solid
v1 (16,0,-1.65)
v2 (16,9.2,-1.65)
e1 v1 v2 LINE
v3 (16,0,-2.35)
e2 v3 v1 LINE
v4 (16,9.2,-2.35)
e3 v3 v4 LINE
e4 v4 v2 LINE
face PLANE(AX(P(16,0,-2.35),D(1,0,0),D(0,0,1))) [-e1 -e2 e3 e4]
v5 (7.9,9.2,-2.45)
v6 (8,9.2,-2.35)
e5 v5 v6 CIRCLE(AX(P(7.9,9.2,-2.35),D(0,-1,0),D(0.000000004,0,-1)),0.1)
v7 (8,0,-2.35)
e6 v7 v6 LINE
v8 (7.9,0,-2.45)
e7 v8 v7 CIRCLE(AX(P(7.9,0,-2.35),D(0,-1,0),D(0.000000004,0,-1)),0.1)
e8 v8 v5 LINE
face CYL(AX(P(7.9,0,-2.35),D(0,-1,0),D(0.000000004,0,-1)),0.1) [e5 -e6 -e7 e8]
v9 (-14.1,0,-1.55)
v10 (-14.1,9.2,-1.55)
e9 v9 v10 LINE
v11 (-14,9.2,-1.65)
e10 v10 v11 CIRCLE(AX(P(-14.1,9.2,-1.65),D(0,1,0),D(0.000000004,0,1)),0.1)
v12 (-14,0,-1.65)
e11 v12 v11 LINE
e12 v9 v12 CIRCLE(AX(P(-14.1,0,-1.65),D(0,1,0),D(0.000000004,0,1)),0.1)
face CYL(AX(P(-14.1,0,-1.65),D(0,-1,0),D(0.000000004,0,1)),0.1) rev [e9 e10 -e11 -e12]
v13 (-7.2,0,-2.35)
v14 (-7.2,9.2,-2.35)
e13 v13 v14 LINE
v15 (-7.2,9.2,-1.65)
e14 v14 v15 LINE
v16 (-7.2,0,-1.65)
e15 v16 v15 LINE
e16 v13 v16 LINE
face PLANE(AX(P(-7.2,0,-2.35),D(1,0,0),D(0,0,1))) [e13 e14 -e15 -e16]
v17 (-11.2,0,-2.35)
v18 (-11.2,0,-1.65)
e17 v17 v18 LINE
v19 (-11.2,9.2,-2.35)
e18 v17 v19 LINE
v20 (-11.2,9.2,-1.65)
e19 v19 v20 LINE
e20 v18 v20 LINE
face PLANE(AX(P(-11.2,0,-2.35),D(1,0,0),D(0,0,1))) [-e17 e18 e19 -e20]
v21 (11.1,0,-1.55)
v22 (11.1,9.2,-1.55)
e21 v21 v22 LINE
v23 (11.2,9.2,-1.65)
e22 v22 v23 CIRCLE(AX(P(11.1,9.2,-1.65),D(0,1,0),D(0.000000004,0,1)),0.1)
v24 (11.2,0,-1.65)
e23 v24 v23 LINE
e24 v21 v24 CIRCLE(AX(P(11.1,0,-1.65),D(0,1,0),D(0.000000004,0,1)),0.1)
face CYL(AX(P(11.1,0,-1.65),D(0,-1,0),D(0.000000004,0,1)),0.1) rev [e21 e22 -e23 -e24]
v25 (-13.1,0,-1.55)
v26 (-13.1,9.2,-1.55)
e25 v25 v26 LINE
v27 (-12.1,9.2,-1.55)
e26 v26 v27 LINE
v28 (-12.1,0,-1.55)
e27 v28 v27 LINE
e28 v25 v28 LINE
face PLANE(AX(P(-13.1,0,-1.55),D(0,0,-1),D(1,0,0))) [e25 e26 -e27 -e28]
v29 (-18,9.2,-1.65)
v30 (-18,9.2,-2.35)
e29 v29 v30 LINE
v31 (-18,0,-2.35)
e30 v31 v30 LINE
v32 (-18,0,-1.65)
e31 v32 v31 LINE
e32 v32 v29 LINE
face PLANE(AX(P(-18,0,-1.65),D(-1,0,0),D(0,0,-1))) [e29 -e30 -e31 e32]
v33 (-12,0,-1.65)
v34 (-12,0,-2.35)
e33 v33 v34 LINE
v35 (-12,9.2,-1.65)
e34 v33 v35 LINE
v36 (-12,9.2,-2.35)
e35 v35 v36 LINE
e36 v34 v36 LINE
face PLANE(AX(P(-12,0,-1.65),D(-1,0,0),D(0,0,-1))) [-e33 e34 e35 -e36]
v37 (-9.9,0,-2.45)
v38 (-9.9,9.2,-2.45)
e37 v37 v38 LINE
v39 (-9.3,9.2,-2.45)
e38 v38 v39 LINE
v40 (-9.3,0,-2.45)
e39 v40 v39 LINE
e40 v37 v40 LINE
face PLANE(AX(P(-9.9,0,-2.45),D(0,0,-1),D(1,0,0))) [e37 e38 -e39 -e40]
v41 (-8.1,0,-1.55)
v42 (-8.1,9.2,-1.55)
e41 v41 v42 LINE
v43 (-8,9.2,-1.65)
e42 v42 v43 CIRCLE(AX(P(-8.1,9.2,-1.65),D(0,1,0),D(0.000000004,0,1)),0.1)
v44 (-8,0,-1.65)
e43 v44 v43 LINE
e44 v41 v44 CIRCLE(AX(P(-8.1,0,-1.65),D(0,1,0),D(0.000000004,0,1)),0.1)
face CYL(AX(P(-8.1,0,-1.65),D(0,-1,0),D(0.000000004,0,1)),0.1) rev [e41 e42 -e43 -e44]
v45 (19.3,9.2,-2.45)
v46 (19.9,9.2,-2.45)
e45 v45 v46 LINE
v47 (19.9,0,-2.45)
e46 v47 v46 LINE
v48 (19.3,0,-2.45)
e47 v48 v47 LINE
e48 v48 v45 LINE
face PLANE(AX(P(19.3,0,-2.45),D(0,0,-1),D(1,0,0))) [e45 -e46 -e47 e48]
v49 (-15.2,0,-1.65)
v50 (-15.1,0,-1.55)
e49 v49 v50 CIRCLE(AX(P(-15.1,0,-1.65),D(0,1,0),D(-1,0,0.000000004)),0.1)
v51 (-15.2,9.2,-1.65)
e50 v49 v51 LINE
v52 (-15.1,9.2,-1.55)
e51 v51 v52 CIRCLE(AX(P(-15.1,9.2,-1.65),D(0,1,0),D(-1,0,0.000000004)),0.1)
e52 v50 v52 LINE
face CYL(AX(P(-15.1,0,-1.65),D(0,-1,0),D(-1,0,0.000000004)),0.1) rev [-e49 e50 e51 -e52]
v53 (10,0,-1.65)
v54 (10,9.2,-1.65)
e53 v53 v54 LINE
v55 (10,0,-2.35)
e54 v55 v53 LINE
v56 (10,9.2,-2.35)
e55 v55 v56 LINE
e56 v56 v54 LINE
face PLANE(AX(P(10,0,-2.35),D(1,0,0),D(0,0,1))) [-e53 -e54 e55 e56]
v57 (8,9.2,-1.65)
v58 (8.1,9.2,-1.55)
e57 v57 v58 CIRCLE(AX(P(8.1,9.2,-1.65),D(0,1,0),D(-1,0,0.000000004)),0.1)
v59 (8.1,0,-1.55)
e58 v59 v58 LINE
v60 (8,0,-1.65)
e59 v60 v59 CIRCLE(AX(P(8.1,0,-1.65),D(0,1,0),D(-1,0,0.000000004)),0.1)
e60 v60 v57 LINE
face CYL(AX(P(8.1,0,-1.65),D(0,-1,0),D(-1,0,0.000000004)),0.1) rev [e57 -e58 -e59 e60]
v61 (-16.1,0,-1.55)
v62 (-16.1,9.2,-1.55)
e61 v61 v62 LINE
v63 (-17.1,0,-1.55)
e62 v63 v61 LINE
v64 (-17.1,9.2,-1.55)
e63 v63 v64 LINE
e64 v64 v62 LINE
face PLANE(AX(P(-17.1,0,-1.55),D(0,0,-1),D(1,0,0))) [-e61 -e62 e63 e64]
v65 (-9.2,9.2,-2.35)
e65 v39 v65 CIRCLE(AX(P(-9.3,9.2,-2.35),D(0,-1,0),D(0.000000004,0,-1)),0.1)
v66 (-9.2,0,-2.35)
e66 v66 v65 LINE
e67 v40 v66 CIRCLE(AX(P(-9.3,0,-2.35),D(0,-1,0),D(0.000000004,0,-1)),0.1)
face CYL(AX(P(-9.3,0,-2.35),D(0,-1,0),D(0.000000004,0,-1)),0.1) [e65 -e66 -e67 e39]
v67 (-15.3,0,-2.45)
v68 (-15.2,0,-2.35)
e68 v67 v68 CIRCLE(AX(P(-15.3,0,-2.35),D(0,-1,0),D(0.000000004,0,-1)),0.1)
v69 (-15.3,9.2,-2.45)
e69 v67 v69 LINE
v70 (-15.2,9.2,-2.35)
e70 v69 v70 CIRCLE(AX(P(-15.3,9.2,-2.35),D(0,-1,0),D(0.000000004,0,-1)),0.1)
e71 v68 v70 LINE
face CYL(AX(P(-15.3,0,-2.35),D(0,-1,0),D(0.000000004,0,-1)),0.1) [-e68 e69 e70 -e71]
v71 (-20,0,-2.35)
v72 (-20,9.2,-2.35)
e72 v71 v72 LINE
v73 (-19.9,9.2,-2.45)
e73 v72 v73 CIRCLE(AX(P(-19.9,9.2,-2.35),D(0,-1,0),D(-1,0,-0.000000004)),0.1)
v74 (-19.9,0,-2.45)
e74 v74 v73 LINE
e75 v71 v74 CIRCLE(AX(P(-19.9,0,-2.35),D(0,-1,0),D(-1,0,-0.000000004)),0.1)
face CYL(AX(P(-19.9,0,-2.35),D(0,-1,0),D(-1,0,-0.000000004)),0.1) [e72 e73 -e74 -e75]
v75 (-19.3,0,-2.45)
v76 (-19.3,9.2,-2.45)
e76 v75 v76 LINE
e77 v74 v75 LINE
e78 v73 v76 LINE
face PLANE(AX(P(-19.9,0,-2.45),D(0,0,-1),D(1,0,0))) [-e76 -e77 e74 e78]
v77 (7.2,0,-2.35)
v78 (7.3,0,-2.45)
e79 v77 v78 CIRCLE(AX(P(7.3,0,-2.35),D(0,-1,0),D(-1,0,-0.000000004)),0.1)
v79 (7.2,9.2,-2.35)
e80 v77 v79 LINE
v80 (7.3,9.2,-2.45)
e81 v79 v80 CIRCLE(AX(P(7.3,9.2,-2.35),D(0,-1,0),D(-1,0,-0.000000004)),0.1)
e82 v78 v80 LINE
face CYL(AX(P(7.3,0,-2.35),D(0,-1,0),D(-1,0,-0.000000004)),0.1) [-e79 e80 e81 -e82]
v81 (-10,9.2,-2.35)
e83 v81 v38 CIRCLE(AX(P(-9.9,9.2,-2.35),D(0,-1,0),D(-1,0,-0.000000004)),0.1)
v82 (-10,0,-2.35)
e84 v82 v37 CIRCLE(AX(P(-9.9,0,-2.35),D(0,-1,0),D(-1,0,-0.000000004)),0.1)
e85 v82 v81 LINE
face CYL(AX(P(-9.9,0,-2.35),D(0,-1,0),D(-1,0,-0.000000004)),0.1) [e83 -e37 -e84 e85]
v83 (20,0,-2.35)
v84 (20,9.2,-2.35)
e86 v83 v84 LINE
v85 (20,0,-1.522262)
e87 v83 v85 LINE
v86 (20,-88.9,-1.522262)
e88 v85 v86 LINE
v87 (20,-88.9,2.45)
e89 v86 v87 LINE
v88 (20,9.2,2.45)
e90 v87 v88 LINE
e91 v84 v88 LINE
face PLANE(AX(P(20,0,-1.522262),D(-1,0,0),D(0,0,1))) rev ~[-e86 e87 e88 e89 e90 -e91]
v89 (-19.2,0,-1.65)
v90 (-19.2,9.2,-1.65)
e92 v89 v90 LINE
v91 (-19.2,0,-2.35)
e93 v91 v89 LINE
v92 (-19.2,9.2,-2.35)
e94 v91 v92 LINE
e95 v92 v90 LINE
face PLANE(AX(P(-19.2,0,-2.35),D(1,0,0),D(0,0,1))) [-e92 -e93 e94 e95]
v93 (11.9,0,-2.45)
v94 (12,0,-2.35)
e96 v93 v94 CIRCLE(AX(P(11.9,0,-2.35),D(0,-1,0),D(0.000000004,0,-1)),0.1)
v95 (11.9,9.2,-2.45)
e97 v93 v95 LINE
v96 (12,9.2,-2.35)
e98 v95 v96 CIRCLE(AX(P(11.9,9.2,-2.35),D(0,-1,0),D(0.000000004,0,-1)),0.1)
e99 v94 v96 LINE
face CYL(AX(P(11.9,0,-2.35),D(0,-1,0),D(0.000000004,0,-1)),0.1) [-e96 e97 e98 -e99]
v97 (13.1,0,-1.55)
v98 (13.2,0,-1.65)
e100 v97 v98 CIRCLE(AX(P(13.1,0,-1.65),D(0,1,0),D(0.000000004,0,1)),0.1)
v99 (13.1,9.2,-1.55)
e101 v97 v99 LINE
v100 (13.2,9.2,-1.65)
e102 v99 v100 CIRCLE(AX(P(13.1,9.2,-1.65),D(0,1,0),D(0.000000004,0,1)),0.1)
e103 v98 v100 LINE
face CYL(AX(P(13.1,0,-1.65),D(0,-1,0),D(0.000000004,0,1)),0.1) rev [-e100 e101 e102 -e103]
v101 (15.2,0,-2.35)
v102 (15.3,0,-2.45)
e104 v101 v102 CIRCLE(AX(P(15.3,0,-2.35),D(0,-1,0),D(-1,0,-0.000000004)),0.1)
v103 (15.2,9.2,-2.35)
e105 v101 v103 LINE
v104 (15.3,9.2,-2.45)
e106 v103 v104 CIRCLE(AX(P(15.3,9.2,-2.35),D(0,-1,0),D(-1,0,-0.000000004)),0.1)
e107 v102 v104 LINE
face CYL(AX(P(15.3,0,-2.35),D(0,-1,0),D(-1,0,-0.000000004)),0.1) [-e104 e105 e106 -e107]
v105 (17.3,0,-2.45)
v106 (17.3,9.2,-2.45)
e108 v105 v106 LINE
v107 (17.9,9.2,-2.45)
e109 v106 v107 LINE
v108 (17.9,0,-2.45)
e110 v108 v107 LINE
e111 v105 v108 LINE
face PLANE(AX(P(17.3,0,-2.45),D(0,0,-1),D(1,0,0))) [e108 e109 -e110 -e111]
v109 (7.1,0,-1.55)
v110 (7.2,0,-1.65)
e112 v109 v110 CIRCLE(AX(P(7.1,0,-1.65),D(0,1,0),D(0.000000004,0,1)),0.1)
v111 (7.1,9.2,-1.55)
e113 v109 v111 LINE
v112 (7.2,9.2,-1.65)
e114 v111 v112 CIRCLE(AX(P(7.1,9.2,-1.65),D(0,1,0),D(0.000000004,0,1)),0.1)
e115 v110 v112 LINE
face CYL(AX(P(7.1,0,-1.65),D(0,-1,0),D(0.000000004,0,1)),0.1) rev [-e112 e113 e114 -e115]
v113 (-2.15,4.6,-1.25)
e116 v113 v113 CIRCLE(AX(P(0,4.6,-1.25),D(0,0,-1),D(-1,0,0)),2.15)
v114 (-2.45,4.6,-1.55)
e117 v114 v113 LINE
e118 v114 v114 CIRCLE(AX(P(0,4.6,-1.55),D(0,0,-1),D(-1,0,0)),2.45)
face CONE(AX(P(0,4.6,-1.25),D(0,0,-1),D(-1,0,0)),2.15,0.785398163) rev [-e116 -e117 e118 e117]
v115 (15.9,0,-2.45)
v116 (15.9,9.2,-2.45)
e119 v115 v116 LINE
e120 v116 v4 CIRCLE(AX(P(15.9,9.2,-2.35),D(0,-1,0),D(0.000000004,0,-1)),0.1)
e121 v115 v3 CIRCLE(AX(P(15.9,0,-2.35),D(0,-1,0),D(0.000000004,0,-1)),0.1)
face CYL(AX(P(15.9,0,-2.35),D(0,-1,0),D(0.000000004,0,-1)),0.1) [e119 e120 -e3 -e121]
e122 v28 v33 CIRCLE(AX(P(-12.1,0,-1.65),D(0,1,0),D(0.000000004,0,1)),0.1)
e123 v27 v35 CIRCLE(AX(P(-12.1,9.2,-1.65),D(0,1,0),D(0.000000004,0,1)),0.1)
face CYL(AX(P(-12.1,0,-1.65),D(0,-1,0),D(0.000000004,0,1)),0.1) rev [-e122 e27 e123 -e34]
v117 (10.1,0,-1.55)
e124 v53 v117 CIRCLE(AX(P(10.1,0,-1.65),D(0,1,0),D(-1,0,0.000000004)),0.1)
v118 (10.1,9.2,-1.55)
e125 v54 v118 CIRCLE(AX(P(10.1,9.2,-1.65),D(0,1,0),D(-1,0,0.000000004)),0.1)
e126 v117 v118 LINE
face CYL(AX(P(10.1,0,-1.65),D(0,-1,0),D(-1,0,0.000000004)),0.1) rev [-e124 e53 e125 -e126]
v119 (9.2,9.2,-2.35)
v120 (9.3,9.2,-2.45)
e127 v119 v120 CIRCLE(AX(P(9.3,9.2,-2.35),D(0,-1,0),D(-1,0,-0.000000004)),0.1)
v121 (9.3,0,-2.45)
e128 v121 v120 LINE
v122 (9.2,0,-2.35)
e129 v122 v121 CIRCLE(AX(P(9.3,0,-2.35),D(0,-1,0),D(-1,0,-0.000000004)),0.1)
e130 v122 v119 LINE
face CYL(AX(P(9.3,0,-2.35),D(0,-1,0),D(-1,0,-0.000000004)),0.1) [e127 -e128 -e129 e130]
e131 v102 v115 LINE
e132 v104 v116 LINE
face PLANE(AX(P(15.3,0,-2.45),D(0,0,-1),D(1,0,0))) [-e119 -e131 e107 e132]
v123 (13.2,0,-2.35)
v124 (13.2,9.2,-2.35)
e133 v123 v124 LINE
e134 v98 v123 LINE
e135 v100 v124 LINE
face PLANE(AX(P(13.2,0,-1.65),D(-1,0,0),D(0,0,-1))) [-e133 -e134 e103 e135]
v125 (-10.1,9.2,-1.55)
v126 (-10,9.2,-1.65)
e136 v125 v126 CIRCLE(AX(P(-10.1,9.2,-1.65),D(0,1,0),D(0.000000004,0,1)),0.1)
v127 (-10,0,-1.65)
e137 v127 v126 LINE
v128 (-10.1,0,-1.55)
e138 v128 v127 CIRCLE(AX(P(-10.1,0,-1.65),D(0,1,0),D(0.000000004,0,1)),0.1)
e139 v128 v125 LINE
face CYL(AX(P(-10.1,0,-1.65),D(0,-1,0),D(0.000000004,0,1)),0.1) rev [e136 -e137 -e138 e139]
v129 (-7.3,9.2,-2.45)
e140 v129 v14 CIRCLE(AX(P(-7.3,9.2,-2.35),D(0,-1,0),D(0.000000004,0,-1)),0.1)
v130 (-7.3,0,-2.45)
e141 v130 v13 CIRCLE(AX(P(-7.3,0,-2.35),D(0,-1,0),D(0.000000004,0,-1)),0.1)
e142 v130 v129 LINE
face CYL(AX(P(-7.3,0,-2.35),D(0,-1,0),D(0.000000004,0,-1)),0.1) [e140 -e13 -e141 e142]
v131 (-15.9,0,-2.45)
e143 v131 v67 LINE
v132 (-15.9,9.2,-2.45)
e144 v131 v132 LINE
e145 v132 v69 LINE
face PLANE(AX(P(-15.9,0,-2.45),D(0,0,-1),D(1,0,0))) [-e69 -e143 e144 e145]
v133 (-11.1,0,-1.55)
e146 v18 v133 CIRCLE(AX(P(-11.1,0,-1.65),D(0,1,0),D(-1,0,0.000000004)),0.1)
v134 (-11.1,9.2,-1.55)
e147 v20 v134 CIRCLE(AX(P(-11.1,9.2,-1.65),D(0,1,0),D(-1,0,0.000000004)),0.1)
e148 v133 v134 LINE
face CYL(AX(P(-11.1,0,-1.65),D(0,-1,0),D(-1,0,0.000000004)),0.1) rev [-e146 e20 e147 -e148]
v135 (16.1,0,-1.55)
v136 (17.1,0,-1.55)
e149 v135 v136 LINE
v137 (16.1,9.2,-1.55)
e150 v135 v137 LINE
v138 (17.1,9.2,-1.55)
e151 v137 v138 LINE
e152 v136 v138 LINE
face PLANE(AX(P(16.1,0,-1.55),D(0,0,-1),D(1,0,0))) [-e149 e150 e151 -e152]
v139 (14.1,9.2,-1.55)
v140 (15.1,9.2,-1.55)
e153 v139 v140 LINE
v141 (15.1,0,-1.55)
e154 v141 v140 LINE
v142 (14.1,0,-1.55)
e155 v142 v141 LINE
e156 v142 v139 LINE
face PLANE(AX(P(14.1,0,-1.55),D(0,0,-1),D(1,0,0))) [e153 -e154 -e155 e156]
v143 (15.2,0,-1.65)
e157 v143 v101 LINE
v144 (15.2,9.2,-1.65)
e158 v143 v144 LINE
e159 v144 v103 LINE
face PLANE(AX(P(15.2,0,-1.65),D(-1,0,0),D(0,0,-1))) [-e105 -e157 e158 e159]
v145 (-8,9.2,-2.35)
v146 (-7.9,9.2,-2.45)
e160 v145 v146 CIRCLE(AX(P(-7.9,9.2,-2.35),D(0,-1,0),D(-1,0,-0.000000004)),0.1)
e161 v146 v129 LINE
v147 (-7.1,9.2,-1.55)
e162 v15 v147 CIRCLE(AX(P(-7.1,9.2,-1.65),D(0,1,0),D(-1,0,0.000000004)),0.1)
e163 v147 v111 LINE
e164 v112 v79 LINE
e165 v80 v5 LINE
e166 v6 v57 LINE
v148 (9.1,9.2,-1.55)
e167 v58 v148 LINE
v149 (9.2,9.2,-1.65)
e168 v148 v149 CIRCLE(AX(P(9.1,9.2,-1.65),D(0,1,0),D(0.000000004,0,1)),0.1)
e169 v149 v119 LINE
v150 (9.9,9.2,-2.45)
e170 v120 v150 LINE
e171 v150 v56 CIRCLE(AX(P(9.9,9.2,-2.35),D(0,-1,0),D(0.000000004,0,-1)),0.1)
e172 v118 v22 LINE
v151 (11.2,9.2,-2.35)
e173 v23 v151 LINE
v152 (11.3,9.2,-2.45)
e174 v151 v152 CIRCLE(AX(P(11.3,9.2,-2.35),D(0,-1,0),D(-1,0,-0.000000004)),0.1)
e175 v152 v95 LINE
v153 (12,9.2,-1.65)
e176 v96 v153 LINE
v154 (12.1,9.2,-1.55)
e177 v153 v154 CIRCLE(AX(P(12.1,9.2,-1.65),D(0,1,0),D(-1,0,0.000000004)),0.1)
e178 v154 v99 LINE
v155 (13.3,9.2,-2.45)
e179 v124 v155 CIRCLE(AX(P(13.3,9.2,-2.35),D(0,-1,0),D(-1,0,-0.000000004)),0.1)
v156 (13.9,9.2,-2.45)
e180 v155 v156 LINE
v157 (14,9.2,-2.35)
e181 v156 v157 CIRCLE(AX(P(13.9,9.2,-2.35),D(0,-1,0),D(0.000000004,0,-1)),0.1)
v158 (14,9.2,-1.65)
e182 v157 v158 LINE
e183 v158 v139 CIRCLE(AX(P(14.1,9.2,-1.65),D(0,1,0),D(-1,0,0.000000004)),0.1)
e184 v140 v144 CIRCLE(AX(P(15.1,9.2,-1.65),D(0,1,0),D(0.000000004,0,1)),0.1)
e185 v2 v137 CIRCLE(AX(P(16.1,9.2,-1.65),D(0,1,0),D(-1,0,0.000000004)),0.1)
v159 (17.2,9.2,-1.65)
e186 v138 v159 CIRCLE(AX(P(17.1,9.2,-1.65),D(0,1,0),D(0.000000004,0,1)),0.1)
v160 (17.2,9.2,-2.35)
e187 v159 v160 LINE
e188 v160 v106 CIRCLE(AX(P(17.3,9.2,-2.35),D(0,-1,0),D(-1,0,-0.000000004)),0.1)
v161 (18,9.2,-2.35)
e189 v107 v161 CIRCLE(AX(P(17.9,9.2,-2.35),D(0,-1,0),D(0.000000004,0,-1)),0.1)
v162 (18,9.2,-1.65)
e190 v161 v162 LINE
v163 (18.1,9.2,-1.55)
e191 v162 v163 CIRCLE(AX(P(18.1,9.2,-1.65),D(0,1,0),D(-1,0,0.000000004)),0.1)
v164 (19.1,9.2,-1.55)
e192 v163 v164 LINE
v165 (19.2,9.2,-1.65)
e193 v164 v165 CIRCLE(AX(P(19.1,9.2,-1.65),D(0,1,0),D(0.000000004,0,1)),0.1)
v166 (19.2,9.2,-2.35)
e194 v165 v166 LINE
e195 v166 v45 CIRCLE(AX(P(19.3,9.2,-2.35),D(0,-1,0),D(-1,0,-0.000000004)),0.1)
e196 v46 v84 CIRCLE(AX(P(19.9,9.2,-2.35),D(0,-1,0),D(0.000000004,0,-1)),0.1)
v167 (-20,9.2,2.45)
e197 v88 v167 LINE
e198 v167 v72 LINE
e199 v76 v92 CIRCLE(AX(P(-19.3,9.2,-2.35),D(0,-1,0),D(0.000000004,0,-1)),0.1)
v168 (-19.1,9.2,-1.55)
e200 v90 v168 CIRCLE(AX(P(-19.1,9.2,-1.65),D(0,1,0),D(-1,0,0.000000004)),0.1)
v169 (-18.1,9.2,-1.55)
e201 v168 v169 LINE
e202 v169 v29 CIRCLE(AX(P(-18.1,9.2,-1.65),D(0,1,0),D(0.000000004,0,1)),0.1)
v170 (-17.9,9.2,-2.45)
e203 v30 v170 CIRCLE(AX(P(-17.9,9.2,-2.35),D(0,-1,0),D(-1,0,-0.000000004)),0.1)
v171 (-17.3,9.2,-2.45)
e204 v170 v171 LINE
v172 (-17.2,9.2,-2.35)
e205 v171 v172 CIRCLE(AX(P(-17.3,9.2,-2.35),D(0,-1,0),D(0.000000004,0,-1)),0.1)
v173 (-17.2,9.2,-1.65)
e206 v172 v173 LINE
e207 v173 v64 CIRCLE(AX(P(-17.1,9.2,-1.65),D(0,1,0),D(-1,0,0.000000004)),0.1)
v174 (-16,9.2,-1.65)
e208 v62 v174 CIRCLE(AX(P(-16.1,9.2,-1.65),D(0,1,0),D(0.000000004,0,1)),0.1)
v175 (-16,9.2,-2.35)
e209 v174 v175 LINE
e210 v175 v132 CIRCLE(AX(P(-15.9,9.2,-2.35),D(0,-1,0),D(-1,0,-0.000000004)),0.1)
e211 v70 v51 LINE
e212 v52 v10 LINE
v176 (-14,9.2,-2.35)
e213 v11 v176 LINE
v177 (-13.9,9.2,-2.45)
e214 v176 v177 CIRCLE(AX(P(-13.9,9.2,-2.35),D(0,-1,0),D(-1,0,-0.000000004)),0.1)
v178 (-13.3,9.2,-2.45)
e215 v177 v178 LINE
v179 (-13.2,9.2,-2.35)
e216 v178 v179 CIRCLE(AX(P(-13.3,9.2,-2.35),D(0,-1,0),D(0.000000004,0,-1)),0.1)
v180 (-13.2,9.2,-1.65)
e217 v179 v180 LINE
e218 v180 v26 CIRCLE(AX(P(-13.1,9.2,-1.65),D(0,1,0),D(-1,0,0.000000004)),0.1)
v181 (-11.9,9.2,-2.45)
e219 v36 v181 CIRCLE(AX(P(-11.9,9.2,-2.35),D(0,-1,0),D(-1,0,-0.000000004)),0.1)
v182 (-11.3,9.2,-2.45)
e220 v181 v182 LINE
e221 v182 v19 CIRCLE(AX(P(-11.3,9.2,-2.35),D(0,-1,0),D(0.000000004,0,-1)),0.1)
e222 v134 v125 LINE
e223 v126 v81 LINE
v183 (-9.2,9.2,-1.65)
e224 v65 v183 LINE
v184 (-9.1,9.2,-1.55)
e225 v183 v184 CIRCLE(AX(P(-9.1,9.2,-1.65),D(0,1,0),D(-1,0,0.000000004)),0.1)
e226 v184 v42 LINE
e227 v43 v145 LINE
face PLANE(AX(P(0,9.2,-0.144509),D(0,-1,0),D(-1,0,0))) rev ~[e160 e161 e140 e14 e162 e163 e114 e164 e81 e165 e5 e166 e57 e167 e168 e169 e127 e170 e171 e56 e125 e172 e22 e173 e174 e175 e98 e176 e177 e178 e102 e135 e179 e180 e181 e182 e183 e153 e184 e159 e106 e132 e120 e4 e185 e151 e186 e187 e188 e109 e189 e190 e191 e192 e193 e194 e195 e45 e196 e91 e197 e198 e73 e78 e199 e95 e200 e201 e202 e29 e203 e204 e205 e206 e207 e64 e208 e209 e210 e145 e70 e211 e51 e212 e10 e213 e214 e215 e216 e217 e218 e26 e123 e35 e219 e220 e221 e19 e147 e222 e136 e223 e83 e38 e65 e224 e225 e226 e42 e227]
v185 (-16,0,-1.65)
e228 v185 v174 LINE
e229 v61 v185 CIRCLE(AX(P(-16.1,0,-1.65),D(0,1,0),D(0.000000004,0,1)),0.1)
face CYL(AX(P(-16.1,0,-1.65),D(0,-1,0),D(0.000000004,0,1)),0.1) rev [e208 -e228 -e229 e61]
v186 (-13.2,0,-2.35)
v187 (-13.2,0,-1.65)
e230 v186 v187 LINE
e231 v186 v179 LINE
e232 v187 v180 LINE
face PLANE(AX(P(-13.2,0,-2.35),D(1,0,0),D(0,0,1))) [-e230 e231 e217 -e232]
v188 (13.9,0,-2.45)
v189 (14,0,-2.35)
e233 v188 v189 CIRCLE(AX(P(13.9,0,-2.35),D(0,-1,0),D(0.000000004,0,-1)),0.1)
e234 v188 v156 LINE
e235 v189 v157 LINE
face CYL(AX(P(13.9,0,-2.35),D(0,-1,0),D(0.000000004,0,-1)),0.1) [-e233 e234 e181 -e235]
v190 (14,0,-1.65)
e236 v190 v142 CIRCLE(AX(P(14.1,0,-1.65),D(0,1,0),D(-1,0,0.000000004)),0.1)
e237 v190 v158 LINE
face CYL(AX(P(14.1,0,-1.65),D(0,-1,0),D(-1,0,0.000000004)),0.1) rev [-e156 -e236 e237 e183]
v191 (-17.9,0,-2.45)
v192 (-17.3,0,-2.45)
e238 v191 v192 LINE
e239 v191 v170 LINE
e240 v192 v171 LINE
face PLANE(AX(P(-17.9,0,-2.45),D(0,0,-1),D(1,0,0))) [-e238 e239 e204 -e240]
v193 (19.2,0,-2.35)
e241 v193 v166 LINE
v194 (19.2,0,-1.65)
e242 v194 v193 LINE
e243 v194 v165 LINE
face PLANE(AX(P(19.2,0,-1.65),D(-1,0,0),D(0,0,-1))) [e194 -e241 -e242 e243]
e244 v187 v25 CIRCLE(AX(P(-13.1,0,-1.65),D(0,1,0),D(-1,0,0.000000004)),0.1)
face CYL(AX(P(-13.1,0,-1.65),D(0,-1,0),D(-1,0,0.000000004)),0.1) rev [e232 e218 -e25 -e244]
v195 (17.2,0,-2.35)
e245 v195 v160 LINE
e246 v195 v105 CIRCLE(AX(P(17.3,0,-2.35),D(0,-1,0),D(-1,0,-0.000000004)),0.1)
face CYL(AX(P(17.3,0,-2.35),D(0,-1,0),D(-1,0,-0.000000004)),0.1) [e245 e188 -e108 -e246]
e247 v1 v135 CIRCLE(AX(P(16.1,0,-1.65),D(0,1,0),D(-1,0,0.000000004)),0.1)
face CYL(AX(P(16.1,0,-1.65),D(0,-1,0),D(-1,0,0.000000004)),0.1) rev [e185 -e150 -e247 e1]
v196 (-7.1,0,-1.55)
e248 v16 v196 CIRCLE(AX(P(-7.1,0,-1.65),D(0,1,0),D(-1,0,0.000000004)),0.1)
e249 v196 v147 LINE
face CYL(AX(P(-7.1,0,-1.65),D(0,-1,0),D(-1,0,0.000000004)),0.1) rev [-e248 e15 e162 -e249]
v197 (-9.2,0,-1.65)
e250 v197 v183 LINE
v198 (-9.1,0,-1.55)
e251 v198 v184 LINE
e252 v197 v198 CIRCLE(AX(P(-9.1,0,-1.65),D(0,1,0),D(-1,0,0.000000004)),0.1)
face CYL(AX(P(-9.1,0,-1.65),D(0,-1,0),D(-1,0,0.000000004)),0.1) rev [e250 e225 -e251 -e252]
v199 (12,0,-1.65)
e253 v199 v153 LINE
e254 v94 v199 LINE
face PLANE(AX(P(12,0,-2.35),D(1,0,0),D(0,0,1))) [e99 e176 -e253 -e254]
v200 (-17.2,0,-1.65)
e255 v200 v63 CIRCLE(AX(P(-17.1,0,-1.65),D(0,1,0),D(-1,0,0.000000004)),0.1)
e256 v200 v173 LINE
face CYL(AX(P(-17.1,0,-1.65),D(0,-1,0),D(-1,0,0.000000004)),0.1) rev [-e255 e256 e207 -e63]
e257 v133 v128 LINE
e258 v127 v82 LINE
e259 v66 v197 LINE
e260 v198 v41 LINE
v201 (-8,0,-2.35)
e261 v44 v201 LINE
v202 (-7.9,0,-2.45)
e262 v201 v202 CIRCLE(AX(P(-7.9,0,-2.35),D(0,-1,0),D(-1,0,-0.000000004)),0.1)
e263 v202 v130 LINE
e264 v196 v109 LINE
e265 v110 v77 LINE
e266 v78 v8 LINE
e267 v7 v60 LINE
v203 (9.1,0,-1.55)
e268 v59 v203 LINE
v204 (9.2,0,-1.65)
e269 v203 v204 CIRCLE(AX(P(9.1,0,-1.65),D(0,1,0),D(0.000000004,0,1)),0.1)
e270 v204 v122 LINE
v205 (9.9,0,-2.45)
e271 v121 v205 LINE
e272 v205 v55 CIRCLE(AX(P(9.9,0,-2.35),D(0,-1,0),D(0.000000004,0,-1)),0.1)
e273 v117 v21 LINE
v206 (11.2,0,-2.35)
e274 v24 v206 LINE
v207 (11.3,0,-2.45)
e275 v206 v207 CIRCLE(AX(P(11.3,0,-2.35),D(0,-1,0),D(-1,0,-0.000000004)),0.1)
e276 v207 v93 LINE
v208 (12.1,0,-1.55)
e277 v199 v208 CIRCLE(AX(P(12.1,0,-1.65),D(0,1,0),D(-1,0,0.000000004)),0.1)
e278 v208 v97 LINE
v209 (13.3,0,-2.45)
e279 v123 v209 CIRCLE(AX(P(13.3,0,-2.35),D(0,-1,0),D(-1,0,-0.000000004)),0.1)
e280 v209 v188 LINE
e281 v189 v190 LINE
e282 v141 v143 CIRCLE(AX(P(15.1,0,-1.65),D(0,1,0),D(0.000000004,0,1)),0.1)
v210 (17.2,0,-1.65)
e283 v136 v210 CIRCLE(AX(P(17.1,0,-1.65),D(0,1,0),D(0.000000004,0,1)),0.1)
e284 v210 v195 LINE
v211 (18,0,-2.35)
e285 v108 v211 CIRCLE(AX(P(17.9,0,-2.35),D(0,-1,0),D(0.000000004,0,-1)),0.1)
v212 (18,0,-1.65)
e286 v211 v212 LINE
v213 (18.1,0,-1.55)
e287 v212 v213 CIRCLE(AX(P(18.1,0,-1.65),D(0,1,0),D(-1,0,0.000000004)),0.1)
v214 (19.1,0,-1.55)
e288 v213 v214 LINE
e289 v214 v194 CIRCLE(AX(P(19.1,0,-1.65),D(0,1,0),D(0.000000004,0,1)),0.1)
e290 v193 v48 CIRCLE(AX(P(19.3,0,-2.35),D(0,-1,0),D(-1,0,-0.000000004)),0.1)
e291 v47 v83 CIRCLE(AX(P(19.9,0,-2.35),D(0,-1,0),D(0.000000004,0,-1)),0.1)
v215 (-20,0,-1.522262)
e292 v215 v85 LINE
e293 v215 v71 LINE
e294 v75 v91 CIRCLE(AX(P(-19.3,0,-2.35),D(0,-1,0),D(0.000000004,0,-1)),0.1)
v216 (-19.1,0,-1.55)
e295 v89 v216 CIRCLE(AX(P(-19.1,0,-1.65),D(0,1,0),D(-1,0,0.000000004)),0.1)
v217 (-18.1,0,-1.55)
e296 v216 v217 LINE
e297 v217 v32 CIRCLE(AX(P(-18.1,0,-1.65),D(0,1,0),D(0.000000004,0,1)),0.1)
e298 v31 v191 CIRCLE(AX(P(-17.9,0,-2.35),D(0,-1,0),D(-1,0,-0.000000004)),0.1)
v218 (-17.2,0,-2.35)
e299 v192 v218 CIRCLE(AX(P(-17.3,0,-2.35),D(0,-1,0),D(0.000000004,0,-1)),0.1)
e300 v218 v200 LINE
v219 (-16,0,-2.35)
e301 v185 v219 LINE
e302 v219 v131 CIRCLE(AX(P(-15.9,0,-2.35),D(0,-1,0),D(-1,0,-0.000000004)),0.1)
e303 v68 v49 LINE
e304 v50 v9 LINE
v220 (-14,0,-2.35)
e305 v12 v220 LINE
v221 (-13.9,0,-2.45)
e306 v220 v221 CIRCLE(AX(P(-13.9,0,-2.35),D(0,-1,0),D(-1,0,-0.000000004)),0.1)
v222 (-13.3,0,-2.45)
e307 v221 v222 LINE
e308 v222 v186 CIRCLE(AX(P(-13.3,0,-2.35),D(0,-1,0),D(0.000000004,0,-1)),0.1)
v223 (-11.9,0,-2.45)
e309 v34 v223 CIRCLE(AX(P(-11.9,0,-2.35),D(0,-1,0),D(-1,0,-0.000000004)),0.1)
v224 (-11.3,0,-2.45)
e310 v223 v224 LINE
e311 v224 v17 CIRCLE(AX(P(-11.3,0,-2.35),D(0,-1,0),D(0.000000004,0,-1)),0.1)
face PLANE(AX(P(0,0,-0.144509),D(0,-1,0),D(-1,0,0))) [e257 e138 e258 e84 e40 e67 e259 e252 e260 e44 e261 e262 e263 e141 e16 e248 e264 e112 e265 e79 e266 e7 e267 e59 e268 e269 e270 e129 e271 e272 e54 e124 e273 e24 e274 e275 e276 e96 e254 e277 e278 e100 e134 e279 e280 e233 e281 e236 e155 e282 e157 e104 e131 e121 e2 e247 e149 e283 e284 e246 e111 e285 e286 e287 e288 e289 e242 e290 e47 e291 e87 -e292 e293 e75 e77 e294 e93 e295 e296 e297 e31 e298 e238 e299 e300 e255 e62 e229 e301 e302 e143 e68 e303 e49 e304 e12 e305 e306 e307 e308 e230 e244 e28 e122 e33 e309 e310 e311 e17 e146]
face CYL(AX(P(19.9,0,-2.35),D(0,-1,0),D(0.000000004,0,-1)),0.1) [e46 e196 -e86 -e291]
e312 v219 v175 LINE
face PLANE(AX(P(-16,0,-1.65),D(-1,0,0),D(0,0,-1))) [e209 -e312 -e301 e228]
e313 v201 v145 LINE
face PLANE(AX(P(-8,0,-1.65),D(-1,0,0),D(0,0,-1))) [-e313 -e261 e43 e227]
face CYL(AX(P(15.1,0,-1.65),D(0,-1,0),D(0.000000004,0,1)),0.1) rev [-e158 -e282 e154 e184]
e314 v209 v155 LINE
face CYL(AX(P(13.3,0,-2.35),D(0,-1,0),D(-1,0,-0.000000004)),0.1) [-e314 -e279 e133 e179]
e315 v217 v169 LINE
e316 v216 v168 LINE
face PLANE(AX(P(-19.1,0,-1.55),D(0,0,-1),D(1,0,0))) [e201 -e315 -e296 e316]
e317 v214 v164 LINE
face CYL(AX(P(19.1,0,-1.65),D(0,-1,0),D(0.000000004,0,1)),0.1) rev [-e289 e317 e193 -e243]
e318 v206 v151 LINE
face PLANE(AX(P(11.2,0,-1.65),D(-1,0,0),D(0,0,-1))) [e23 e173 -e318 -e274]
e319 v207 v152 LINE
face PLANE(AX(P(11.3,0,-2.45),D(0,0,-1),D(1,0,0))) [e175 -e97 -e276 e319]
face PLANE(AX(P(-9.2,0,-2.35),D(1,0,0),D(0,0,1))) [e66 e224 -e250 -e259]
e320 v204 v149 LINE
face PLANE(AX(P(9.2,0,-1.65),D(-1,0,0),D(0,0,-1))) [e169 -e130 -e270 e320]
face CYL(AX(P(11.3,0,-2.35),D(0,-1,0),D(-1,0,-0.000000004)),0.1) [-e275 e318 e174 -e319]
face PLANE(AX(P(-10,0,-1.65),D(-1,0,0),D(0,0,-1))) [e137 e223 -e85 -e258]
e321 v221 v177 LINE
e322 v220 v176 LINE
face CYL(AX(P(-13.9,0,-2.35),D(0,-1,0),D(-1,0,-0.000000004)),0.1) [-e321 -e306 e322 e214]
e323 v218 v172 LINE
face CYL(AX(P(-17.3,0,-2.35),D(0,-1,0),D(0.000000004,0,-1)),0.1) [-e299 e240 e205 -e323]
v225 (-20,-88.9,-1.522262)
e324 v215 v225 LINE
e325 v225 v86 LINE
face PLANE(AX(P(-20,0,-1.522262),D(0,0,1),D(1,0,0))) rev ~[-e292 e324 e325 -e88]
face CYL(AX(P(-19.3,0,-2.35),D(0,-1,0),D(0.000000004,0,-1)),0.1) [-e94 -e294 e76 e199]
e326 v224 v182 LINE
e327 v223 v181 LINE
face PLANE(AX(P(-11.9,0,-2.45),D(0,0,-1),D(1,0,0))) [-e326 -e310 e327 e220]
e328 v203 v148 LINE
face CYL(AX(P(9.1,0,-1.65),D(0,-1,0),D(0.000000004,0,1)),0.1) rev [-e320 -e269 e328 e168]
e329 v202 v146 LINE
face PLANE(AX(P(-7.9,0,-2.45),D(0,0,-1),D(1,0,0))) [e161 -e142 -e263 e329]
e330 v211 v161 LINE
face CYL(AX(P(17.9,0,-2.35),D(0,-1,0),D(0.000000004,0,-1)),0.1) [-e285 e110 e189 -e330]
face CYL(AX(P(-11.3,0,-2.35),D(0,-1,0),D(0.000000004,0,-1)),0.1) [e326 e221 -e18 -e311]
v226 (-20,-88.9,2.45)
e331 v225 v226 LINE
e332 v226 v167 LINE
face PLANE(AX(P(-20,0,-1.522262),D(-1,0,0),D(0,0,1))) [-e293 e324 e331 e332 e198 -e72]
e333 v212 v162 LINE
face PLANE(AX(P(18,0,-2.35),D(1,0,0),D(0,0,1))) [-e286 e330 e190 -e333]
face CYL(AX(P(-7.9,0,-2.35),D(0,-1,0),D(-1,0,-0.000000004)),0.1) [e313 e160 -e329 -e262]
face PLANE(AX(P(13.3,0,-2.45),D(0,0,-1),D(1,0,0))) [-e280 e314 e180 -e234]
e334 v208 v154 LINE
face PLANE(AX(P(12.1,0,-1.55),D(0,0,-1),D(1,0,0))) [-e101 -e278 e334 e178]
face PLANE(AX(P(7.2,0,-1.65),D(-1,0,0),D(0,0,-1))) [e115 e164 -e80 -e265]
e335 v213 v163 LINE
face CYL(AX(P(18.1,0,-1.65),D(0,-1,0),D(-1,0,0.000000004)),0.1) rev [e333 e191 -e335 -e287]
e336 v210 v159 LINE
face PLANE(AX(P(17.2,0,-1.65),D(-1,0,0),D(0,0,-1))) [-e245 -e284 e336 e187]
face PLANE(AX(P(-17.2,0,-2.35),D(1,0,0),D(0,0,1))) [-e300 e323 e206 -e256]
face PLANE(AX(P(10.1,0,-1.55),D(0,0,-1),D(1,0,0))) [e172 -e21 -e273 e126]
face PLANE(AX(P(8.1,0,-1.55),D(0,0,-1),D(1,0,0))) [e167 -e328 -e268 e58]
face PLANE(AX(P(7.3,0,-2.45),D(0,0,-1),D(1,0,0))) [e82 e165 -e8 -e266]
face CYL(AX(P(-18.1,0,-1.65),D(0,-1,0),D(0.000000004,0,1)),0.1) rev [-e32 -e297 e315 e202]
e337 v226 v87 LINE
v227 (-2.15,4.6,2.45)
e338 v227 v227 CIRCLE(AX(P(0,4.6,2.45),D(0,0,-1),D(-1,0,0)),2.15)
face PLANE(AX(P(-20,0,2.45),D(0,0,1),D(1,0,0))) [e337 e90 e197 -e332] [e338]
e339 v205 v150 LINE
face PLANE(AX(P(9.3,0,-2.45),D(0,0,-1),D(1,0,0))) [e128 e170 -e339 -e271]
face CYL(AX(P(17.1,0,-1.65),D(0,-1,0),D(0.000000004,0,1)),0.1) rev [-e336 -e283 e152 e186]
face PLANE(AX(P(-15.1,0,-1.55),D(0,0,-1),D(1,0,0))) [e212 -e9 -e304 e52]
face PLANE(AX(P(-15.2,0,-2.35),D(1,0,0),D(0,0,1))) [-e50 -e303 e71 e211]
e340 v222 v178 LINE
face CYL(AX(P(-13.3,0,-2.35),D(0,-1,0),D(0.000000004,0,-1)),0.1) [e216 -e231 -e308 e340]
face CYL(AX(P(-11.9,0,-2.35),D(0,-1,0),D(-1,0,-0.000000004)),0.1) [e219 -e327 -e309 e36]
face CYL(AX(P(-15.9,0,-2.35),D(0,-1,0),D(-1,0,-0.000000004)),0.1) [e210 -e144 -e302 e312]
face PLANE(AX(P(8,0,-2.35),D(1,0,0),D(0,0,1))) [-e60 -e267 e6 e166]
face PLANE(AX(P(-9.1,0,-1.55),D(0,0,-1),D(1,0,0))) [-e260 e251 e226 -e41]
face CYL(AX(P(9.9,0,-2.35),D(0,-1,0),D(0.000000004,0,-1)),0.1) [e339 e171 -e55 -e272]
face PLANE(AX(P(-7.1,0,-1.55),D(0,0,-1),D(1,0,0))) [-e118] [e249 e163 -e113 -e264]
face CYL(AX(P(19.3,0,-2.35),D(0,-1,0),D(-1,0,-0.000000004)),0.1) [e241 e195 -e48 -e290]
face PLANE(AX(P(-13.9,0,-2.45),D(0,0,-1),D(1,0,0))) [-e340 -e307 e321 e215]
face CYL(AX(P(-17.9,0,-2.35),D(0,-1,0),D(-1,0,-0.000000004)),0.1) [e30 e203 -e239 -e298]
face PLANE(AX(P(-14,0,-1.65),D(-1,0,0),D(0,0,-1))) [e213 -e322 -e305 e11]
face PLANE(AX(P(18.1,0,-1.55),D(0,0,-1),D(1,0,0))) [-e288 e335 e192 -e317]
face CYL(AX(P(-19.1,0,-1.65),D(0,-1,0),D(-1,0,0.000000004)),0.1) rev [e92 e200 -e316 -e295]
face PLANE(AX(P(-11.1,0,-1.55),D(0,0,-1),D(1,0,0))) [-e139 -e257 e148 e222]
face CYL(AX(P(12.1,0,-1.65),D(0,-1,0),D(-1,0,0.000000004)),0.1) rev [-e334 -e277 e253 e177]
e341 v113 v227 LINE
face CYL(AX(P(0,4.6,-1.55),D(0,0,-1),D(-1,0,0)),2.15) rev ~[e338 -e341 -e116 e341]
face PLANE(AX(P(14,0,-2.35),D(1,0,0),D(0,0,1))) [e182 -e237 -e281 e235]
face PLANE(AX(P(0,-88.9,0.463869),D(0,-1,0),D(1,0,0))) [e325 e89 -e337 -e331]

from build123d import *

# Parameters (mm, degrees)
RESSALTO_EXTRUS_O2_DEPTH = 9.2
ESBO_O5_R                = 2.15
CORTE_EXTRUS_O2_DEPTH    = 9.2
CHANFRO2_SIZE            = 0.3
SKETCH1_W                = 40
SKETCH1_H                = 3.972261678
BOSS_EXTRUDE1_DEPTH      = 88.9


with BuildPart() as part:
    # Esboço4 → Ressalto-extrusão2 (new body)
    with BuildSketch(Plane(origin=(0, 0, 0), x_dir=(1, 0, 0), z_dir=(0, 1, 0))):
        with BuildLine():
            Line((-19.2, 2.35), (-19.2, 1.65))
            ThreePointArc((-19.2, 1.65), (-19.170710678, 1.579289322), (-19.1, 1.55))
            Line((-19.1, 1.55), (-18.1, 1.55))
            ThreePointArc((-18.1, 1.55), (-18.029289322, 1.579289322), (-18, 1.65))
            Line((-18, 1.65), (-18, 2.35))
            ThreePointArc((-18, 2.35), (-17.970710678, 2.420710678), (-17.9, 2.45))
            Line((-17.9, 2.45), (-17.3, 2.45))
            ThreePointArc((-17.3, 2.45), (-17.229289322, 2.420710678), (-17.2, 2.35))
            Line((-17.2, 2.35), (-17.2, 1.65))
            ThreePointArc((-17.2, 1.65), (-17.170710678, 1.579289322), (-17.1, 1.55))
            Line((-17.1, 1.55), (-16.1, 1.55))
            ThreePointArc((-16.1, 1.55), (-16.029289322, 1.579289322), (-16, 1.65))
            Line((-16, 1.65), (-16, 2.35))
            ThreePointArc((-16, 2.35), (-15.970710678, 2.420710678), (-15.9, 2.45))
            Line((-15.9, 2.45), (-15.3, 2.45))
            ThreePointArc((-15.3, 2.45), (-15.229289322, 2.420710678), (-15.2, 2.35))
            Line((-15.2, 2.35), (-15.2, 1.65))
            ThreePointArc((-15.2, 1.65), (-15.170710678, 1.579289322), (-15.1, 1.55))
            Line((-15.1, 1.55), (-14.1, 1.55))
            ThreePointArc((-14.1, 1.55), (-14.029289322, 1.579289322), (-14, 1.65))
            Line((-14, 1.65), (-14, 2.35))
            ThreePointArc((-14, 2.35), (-13.970710678, 2.420710678), (-13.9, 2.45))
            Line((-13.9, 2.45), (-13.3, 2.45))
            ThreePointArc((-13.3, 2.45), (-13.229289322, 2.420710678), (-13.2, 2.35))
            Line((-13.2, 2.35), (-13.2, 1.65))
            ThreePointArc((-13.2, 1.65), (-13.170710678, 1.579289322), (-13.1, 1.55))
            Line((-13.1, 1.55), (-12.1, 1.55))
            ThreePointArc((-12.1, 1.55), (-12.029289322, 1.579289322), (-12, 1.65))
            Line((-12, 1.65), (-12, 2.35))
            ThreePointArc((-12, 2.35), (-11.970710678, 2.420710678), (-11.9, 2.45))
            Line((-11.9, 2.45), (-11.3, 2.45))
            ThreePointArc((-11.3, 2.45), (-11.229289322, 2.420710678), (-11.2, 2.35))
            Line((-11.2, 2.35), (-11.2, 1.65))
            ThreePointArc((-11.2, 1.65), (-11.170710678, 1.579289322), (-11.1, 1.55))
            Line((-11.1, 1.55), (-10.1, 1.55))
            ThreePointArc((-10.1, 1.55), (-10.029289322, 1.579289322), (-10, 1.65))
            Line((-10, 1.65), (-10, 2.35))
            ThreePointArc((-10, 2.35), (-9.970710678, 2.420710678), (-9.9, 2.45))
            Line((-9.9, 2.45), (-9.3, 2.45))
            ThreePointArc((-9.3, 2.45), (-9.229289322, 2.420710678), (-9.2, 2.35))
            Line((-9.2, 2.35), (-9.2, 1.65))
            ThreePointArc((-9.2, 1.65), (-9.170710678, 1.579289322), (-9.1, 1.55))
            Line((-9.1, 1.55), (-8.1, 1.55))
            ThreePointArc((-8.1, 1.55), (-8.029289322, 1.579289322), (-8, 1.65))
            Line((-8, 1.65), (-8, 2.35))
            ThreePointArc((-8, 2.35), (-7.970710678, 2.420710678), (-7.9, 2.45))
            Line((-7.9, 2.45), (-7.3, 2.45))
            ThreePointArc((-7.3, 2.45), (-7.229289322, 2.420710678), (-7.2, 2.35))
            Line((-7.2, 2.35), (-7.2, 1.65))
            ThreePointArc((-7.2, 1.65), (-7.170710678, 1.579289322), (-7.1, 1.55))
            Line((-7.1, 1.55), (7.1, 1.55))
            ThreePointArc((7.1, 1.55), (7.170710678, 1.579289322), (7.2, 1.65))
            Line((7.2, 1.65), (7.2, 2.35))
            ThreePointArc((7.2, 2.35), (7.229289322, 2.420710678), (7.3, 2.45))
            Line((7.3, 2.45), (7.9, 2.45))
            ThreePointArc((7.9, 2.45), (7.970710678, 2.420710678), (8, 2.35))
            Line((8, 2.35), (8, 1.65))
            ThreePointArc((8, 1.65), (8.029289322, 1.579289322), (8.1, 1.55))
            Line((8.1, 1.55), (9.1, 1.55))
            ThreePointArc((9.1, 1.55), (9.170710678, 1.579289322), (9.2, 1.65))
            Line((9.2, 1.65), (9.2, 2.35))
            ThreePointArc((9.2, 2.35), (9.229289322, 2.420710678), (9.3, 2.45))
            Line((9.3, 2.45), (9.9, 2.45))
            ThreePointArc((9.9, 2.45), (9.970710678, 2.420710678), (10, 2.35))
            Line((10, 2.35), (10, 1.65))
            ThreePointArc((10, 1.65), (10.029289322, 1.579289322), (10.1, 1.55))
            Line((10.1, 1.55), (11.1, 1.55))
            ThreePointArc((11.1, 1.55), (11.170710678, 1.579289322), (11.2, 1.65))
            Line((11.2, 1.65), (11.2, 2.35))
            ThreePointArc((11.2, 2.35), (11.229289322, 2.420710678), (11.3, 2.45))
            Line((11.3, 2.45), (11.9, 2.45))
            ThreePointArc((11.9, 2.45), (11.970710678, 2.420710678), (12, 2.35))
            Line((12, 2.35), (12, 1.65))
            ThreePointArc((12, 1.65), (12.029289322, 1.579289322), (12.1, 1.55))
            Line((12.1, 1.55), (13.1, 1.55))
            ThreePointArc((13.1, 1.55), (13.170710678, 1.579289322), (13.2, 1.65))
            Line((13.2, 1.65), (13.2, 2.35))
            ThreePointArc((13.2, 2.35), (13.229289322, 2.420710678), (13.3, 2.45))
            Line((13.3, 2.45), (13.9, 2.45))
            ThreePointArc((13.9, 2.45), (13.970710678, 2.420710678), (14, 2.35))
            Line((14, 2.35), (14, 1.65))
            ThreePointArc((14, 1.65), (14.029289322, 1.579289322), (14.1, 1.55))
            Line((14.1, 1.55), (15.1, 1.55))
            ThreePointArc((15.1, 1.55), (15.170710678, 1.579289322), (15.2, 1.65))
            Line((15.2, 1.65), (15.2, 2.35))
            ThreePointArc((15.2, 2.35), (15.229289322, 2.420710678), (15.3, 2.45))
            Line((15.3, 2.45), (15.9, 2.45))
            ThreePointArc((15.9, 2.45), (15.970710678, 2.420710678), (16, 2.35))
            Line((16, 2.35), (16, 1.65))
            ThreePointArc((16, 1.65), (16.029289322, 1.579289322), (16.1, 1.55))
            Line((16.1, 1.55), (17.1, 1.55))
            ThreePointArc((17.1, 1.55), (17.170710678, 1.579289322), (17.2, 1.65))
            Line((17.2, 1.65), (17.2, 2.35))
            ThreePointArc((17.2, 2.35), (17.229289322, 2.420710678), (17.3, 2.45))
            Line((17.3, 2.45), (17.9, 2.45))
            ThreePointArc((17.9, 2.45), (17.970710678, 2.420710678), (18, 2.35))
            Line((18, 2.35), (18, 1.65))
            ThreePointArc((18, 1.65), (18.029289322, 1.579289322), (18.1, 1.55))
            Line((18.1, 1.55), (19.1, 1.55))
            ThreePointArc((19.1, 1.55), (19.170710678, 1.579289322), (19.2, 1.65))
            Line((19.2, 1.65), (19.2, 2.35))
            ThreePointArc((19.2, 2.35), (19.229289322, 2.420710678), (19.3, 2.45))
            Line((19.3, 2.45), (19.9, 2.45))
            ThreePointArc((19.9, 2.45), (19.970710678, 2.420710678), (20, 2.35))
            Line((20, 2.35), (20, -2.45))
            Line((20, -2.45), (-20, -2.45))
            Line((-20, -2.45), (-20, 2.35))
            ThreePointArc((-20, 2.35), (-19.970710678, 2.420710678), (-19.9, 2.45))
            Line((-19.9, 2.45), (-19.3, 2.45))
            ThreePointArc((-19.3, 2.45), (-19.229289322, 2.420710678), (-19.2, 2.35))
        make_face()
    extrude(amount=RESSALTO_EXTRUS_O2_DEPTH)

    # Esboço5 → Corte-extrusão2 (cut)
    with BuildSketch(Plane(origin=(0, 0, -1.55), x_dir=(-1, 0, 0), z_dir=(0, 0, -1))):
        with Locations((0, 4.6)):
            Circle(ESBO_O5_R)
    extrude(amount=-CORTE_EXTRUS_O2_DEPTH, mode=Mode.SUBTRACT)

    # Chanfro2
    chanfro2_edges = [part.edges().sort_by_distance(p)[0] for p in [
        (2.15, 4.6, -1.55),
    ]]
    chamfer(chanfro2_edges, length=CHANFRO2_SIZE)

    # Sketch1 → Boss-Extrude1 (add)
    with BuildSketch(Plane.XZ):
        with Locations((0, 0.463869161)):
            Rectangle(SKETCH1_W, SKETCH1_H)
    extrude(amount=BOSS_EXTRUDE1_DEPTH)


solid = part.part
